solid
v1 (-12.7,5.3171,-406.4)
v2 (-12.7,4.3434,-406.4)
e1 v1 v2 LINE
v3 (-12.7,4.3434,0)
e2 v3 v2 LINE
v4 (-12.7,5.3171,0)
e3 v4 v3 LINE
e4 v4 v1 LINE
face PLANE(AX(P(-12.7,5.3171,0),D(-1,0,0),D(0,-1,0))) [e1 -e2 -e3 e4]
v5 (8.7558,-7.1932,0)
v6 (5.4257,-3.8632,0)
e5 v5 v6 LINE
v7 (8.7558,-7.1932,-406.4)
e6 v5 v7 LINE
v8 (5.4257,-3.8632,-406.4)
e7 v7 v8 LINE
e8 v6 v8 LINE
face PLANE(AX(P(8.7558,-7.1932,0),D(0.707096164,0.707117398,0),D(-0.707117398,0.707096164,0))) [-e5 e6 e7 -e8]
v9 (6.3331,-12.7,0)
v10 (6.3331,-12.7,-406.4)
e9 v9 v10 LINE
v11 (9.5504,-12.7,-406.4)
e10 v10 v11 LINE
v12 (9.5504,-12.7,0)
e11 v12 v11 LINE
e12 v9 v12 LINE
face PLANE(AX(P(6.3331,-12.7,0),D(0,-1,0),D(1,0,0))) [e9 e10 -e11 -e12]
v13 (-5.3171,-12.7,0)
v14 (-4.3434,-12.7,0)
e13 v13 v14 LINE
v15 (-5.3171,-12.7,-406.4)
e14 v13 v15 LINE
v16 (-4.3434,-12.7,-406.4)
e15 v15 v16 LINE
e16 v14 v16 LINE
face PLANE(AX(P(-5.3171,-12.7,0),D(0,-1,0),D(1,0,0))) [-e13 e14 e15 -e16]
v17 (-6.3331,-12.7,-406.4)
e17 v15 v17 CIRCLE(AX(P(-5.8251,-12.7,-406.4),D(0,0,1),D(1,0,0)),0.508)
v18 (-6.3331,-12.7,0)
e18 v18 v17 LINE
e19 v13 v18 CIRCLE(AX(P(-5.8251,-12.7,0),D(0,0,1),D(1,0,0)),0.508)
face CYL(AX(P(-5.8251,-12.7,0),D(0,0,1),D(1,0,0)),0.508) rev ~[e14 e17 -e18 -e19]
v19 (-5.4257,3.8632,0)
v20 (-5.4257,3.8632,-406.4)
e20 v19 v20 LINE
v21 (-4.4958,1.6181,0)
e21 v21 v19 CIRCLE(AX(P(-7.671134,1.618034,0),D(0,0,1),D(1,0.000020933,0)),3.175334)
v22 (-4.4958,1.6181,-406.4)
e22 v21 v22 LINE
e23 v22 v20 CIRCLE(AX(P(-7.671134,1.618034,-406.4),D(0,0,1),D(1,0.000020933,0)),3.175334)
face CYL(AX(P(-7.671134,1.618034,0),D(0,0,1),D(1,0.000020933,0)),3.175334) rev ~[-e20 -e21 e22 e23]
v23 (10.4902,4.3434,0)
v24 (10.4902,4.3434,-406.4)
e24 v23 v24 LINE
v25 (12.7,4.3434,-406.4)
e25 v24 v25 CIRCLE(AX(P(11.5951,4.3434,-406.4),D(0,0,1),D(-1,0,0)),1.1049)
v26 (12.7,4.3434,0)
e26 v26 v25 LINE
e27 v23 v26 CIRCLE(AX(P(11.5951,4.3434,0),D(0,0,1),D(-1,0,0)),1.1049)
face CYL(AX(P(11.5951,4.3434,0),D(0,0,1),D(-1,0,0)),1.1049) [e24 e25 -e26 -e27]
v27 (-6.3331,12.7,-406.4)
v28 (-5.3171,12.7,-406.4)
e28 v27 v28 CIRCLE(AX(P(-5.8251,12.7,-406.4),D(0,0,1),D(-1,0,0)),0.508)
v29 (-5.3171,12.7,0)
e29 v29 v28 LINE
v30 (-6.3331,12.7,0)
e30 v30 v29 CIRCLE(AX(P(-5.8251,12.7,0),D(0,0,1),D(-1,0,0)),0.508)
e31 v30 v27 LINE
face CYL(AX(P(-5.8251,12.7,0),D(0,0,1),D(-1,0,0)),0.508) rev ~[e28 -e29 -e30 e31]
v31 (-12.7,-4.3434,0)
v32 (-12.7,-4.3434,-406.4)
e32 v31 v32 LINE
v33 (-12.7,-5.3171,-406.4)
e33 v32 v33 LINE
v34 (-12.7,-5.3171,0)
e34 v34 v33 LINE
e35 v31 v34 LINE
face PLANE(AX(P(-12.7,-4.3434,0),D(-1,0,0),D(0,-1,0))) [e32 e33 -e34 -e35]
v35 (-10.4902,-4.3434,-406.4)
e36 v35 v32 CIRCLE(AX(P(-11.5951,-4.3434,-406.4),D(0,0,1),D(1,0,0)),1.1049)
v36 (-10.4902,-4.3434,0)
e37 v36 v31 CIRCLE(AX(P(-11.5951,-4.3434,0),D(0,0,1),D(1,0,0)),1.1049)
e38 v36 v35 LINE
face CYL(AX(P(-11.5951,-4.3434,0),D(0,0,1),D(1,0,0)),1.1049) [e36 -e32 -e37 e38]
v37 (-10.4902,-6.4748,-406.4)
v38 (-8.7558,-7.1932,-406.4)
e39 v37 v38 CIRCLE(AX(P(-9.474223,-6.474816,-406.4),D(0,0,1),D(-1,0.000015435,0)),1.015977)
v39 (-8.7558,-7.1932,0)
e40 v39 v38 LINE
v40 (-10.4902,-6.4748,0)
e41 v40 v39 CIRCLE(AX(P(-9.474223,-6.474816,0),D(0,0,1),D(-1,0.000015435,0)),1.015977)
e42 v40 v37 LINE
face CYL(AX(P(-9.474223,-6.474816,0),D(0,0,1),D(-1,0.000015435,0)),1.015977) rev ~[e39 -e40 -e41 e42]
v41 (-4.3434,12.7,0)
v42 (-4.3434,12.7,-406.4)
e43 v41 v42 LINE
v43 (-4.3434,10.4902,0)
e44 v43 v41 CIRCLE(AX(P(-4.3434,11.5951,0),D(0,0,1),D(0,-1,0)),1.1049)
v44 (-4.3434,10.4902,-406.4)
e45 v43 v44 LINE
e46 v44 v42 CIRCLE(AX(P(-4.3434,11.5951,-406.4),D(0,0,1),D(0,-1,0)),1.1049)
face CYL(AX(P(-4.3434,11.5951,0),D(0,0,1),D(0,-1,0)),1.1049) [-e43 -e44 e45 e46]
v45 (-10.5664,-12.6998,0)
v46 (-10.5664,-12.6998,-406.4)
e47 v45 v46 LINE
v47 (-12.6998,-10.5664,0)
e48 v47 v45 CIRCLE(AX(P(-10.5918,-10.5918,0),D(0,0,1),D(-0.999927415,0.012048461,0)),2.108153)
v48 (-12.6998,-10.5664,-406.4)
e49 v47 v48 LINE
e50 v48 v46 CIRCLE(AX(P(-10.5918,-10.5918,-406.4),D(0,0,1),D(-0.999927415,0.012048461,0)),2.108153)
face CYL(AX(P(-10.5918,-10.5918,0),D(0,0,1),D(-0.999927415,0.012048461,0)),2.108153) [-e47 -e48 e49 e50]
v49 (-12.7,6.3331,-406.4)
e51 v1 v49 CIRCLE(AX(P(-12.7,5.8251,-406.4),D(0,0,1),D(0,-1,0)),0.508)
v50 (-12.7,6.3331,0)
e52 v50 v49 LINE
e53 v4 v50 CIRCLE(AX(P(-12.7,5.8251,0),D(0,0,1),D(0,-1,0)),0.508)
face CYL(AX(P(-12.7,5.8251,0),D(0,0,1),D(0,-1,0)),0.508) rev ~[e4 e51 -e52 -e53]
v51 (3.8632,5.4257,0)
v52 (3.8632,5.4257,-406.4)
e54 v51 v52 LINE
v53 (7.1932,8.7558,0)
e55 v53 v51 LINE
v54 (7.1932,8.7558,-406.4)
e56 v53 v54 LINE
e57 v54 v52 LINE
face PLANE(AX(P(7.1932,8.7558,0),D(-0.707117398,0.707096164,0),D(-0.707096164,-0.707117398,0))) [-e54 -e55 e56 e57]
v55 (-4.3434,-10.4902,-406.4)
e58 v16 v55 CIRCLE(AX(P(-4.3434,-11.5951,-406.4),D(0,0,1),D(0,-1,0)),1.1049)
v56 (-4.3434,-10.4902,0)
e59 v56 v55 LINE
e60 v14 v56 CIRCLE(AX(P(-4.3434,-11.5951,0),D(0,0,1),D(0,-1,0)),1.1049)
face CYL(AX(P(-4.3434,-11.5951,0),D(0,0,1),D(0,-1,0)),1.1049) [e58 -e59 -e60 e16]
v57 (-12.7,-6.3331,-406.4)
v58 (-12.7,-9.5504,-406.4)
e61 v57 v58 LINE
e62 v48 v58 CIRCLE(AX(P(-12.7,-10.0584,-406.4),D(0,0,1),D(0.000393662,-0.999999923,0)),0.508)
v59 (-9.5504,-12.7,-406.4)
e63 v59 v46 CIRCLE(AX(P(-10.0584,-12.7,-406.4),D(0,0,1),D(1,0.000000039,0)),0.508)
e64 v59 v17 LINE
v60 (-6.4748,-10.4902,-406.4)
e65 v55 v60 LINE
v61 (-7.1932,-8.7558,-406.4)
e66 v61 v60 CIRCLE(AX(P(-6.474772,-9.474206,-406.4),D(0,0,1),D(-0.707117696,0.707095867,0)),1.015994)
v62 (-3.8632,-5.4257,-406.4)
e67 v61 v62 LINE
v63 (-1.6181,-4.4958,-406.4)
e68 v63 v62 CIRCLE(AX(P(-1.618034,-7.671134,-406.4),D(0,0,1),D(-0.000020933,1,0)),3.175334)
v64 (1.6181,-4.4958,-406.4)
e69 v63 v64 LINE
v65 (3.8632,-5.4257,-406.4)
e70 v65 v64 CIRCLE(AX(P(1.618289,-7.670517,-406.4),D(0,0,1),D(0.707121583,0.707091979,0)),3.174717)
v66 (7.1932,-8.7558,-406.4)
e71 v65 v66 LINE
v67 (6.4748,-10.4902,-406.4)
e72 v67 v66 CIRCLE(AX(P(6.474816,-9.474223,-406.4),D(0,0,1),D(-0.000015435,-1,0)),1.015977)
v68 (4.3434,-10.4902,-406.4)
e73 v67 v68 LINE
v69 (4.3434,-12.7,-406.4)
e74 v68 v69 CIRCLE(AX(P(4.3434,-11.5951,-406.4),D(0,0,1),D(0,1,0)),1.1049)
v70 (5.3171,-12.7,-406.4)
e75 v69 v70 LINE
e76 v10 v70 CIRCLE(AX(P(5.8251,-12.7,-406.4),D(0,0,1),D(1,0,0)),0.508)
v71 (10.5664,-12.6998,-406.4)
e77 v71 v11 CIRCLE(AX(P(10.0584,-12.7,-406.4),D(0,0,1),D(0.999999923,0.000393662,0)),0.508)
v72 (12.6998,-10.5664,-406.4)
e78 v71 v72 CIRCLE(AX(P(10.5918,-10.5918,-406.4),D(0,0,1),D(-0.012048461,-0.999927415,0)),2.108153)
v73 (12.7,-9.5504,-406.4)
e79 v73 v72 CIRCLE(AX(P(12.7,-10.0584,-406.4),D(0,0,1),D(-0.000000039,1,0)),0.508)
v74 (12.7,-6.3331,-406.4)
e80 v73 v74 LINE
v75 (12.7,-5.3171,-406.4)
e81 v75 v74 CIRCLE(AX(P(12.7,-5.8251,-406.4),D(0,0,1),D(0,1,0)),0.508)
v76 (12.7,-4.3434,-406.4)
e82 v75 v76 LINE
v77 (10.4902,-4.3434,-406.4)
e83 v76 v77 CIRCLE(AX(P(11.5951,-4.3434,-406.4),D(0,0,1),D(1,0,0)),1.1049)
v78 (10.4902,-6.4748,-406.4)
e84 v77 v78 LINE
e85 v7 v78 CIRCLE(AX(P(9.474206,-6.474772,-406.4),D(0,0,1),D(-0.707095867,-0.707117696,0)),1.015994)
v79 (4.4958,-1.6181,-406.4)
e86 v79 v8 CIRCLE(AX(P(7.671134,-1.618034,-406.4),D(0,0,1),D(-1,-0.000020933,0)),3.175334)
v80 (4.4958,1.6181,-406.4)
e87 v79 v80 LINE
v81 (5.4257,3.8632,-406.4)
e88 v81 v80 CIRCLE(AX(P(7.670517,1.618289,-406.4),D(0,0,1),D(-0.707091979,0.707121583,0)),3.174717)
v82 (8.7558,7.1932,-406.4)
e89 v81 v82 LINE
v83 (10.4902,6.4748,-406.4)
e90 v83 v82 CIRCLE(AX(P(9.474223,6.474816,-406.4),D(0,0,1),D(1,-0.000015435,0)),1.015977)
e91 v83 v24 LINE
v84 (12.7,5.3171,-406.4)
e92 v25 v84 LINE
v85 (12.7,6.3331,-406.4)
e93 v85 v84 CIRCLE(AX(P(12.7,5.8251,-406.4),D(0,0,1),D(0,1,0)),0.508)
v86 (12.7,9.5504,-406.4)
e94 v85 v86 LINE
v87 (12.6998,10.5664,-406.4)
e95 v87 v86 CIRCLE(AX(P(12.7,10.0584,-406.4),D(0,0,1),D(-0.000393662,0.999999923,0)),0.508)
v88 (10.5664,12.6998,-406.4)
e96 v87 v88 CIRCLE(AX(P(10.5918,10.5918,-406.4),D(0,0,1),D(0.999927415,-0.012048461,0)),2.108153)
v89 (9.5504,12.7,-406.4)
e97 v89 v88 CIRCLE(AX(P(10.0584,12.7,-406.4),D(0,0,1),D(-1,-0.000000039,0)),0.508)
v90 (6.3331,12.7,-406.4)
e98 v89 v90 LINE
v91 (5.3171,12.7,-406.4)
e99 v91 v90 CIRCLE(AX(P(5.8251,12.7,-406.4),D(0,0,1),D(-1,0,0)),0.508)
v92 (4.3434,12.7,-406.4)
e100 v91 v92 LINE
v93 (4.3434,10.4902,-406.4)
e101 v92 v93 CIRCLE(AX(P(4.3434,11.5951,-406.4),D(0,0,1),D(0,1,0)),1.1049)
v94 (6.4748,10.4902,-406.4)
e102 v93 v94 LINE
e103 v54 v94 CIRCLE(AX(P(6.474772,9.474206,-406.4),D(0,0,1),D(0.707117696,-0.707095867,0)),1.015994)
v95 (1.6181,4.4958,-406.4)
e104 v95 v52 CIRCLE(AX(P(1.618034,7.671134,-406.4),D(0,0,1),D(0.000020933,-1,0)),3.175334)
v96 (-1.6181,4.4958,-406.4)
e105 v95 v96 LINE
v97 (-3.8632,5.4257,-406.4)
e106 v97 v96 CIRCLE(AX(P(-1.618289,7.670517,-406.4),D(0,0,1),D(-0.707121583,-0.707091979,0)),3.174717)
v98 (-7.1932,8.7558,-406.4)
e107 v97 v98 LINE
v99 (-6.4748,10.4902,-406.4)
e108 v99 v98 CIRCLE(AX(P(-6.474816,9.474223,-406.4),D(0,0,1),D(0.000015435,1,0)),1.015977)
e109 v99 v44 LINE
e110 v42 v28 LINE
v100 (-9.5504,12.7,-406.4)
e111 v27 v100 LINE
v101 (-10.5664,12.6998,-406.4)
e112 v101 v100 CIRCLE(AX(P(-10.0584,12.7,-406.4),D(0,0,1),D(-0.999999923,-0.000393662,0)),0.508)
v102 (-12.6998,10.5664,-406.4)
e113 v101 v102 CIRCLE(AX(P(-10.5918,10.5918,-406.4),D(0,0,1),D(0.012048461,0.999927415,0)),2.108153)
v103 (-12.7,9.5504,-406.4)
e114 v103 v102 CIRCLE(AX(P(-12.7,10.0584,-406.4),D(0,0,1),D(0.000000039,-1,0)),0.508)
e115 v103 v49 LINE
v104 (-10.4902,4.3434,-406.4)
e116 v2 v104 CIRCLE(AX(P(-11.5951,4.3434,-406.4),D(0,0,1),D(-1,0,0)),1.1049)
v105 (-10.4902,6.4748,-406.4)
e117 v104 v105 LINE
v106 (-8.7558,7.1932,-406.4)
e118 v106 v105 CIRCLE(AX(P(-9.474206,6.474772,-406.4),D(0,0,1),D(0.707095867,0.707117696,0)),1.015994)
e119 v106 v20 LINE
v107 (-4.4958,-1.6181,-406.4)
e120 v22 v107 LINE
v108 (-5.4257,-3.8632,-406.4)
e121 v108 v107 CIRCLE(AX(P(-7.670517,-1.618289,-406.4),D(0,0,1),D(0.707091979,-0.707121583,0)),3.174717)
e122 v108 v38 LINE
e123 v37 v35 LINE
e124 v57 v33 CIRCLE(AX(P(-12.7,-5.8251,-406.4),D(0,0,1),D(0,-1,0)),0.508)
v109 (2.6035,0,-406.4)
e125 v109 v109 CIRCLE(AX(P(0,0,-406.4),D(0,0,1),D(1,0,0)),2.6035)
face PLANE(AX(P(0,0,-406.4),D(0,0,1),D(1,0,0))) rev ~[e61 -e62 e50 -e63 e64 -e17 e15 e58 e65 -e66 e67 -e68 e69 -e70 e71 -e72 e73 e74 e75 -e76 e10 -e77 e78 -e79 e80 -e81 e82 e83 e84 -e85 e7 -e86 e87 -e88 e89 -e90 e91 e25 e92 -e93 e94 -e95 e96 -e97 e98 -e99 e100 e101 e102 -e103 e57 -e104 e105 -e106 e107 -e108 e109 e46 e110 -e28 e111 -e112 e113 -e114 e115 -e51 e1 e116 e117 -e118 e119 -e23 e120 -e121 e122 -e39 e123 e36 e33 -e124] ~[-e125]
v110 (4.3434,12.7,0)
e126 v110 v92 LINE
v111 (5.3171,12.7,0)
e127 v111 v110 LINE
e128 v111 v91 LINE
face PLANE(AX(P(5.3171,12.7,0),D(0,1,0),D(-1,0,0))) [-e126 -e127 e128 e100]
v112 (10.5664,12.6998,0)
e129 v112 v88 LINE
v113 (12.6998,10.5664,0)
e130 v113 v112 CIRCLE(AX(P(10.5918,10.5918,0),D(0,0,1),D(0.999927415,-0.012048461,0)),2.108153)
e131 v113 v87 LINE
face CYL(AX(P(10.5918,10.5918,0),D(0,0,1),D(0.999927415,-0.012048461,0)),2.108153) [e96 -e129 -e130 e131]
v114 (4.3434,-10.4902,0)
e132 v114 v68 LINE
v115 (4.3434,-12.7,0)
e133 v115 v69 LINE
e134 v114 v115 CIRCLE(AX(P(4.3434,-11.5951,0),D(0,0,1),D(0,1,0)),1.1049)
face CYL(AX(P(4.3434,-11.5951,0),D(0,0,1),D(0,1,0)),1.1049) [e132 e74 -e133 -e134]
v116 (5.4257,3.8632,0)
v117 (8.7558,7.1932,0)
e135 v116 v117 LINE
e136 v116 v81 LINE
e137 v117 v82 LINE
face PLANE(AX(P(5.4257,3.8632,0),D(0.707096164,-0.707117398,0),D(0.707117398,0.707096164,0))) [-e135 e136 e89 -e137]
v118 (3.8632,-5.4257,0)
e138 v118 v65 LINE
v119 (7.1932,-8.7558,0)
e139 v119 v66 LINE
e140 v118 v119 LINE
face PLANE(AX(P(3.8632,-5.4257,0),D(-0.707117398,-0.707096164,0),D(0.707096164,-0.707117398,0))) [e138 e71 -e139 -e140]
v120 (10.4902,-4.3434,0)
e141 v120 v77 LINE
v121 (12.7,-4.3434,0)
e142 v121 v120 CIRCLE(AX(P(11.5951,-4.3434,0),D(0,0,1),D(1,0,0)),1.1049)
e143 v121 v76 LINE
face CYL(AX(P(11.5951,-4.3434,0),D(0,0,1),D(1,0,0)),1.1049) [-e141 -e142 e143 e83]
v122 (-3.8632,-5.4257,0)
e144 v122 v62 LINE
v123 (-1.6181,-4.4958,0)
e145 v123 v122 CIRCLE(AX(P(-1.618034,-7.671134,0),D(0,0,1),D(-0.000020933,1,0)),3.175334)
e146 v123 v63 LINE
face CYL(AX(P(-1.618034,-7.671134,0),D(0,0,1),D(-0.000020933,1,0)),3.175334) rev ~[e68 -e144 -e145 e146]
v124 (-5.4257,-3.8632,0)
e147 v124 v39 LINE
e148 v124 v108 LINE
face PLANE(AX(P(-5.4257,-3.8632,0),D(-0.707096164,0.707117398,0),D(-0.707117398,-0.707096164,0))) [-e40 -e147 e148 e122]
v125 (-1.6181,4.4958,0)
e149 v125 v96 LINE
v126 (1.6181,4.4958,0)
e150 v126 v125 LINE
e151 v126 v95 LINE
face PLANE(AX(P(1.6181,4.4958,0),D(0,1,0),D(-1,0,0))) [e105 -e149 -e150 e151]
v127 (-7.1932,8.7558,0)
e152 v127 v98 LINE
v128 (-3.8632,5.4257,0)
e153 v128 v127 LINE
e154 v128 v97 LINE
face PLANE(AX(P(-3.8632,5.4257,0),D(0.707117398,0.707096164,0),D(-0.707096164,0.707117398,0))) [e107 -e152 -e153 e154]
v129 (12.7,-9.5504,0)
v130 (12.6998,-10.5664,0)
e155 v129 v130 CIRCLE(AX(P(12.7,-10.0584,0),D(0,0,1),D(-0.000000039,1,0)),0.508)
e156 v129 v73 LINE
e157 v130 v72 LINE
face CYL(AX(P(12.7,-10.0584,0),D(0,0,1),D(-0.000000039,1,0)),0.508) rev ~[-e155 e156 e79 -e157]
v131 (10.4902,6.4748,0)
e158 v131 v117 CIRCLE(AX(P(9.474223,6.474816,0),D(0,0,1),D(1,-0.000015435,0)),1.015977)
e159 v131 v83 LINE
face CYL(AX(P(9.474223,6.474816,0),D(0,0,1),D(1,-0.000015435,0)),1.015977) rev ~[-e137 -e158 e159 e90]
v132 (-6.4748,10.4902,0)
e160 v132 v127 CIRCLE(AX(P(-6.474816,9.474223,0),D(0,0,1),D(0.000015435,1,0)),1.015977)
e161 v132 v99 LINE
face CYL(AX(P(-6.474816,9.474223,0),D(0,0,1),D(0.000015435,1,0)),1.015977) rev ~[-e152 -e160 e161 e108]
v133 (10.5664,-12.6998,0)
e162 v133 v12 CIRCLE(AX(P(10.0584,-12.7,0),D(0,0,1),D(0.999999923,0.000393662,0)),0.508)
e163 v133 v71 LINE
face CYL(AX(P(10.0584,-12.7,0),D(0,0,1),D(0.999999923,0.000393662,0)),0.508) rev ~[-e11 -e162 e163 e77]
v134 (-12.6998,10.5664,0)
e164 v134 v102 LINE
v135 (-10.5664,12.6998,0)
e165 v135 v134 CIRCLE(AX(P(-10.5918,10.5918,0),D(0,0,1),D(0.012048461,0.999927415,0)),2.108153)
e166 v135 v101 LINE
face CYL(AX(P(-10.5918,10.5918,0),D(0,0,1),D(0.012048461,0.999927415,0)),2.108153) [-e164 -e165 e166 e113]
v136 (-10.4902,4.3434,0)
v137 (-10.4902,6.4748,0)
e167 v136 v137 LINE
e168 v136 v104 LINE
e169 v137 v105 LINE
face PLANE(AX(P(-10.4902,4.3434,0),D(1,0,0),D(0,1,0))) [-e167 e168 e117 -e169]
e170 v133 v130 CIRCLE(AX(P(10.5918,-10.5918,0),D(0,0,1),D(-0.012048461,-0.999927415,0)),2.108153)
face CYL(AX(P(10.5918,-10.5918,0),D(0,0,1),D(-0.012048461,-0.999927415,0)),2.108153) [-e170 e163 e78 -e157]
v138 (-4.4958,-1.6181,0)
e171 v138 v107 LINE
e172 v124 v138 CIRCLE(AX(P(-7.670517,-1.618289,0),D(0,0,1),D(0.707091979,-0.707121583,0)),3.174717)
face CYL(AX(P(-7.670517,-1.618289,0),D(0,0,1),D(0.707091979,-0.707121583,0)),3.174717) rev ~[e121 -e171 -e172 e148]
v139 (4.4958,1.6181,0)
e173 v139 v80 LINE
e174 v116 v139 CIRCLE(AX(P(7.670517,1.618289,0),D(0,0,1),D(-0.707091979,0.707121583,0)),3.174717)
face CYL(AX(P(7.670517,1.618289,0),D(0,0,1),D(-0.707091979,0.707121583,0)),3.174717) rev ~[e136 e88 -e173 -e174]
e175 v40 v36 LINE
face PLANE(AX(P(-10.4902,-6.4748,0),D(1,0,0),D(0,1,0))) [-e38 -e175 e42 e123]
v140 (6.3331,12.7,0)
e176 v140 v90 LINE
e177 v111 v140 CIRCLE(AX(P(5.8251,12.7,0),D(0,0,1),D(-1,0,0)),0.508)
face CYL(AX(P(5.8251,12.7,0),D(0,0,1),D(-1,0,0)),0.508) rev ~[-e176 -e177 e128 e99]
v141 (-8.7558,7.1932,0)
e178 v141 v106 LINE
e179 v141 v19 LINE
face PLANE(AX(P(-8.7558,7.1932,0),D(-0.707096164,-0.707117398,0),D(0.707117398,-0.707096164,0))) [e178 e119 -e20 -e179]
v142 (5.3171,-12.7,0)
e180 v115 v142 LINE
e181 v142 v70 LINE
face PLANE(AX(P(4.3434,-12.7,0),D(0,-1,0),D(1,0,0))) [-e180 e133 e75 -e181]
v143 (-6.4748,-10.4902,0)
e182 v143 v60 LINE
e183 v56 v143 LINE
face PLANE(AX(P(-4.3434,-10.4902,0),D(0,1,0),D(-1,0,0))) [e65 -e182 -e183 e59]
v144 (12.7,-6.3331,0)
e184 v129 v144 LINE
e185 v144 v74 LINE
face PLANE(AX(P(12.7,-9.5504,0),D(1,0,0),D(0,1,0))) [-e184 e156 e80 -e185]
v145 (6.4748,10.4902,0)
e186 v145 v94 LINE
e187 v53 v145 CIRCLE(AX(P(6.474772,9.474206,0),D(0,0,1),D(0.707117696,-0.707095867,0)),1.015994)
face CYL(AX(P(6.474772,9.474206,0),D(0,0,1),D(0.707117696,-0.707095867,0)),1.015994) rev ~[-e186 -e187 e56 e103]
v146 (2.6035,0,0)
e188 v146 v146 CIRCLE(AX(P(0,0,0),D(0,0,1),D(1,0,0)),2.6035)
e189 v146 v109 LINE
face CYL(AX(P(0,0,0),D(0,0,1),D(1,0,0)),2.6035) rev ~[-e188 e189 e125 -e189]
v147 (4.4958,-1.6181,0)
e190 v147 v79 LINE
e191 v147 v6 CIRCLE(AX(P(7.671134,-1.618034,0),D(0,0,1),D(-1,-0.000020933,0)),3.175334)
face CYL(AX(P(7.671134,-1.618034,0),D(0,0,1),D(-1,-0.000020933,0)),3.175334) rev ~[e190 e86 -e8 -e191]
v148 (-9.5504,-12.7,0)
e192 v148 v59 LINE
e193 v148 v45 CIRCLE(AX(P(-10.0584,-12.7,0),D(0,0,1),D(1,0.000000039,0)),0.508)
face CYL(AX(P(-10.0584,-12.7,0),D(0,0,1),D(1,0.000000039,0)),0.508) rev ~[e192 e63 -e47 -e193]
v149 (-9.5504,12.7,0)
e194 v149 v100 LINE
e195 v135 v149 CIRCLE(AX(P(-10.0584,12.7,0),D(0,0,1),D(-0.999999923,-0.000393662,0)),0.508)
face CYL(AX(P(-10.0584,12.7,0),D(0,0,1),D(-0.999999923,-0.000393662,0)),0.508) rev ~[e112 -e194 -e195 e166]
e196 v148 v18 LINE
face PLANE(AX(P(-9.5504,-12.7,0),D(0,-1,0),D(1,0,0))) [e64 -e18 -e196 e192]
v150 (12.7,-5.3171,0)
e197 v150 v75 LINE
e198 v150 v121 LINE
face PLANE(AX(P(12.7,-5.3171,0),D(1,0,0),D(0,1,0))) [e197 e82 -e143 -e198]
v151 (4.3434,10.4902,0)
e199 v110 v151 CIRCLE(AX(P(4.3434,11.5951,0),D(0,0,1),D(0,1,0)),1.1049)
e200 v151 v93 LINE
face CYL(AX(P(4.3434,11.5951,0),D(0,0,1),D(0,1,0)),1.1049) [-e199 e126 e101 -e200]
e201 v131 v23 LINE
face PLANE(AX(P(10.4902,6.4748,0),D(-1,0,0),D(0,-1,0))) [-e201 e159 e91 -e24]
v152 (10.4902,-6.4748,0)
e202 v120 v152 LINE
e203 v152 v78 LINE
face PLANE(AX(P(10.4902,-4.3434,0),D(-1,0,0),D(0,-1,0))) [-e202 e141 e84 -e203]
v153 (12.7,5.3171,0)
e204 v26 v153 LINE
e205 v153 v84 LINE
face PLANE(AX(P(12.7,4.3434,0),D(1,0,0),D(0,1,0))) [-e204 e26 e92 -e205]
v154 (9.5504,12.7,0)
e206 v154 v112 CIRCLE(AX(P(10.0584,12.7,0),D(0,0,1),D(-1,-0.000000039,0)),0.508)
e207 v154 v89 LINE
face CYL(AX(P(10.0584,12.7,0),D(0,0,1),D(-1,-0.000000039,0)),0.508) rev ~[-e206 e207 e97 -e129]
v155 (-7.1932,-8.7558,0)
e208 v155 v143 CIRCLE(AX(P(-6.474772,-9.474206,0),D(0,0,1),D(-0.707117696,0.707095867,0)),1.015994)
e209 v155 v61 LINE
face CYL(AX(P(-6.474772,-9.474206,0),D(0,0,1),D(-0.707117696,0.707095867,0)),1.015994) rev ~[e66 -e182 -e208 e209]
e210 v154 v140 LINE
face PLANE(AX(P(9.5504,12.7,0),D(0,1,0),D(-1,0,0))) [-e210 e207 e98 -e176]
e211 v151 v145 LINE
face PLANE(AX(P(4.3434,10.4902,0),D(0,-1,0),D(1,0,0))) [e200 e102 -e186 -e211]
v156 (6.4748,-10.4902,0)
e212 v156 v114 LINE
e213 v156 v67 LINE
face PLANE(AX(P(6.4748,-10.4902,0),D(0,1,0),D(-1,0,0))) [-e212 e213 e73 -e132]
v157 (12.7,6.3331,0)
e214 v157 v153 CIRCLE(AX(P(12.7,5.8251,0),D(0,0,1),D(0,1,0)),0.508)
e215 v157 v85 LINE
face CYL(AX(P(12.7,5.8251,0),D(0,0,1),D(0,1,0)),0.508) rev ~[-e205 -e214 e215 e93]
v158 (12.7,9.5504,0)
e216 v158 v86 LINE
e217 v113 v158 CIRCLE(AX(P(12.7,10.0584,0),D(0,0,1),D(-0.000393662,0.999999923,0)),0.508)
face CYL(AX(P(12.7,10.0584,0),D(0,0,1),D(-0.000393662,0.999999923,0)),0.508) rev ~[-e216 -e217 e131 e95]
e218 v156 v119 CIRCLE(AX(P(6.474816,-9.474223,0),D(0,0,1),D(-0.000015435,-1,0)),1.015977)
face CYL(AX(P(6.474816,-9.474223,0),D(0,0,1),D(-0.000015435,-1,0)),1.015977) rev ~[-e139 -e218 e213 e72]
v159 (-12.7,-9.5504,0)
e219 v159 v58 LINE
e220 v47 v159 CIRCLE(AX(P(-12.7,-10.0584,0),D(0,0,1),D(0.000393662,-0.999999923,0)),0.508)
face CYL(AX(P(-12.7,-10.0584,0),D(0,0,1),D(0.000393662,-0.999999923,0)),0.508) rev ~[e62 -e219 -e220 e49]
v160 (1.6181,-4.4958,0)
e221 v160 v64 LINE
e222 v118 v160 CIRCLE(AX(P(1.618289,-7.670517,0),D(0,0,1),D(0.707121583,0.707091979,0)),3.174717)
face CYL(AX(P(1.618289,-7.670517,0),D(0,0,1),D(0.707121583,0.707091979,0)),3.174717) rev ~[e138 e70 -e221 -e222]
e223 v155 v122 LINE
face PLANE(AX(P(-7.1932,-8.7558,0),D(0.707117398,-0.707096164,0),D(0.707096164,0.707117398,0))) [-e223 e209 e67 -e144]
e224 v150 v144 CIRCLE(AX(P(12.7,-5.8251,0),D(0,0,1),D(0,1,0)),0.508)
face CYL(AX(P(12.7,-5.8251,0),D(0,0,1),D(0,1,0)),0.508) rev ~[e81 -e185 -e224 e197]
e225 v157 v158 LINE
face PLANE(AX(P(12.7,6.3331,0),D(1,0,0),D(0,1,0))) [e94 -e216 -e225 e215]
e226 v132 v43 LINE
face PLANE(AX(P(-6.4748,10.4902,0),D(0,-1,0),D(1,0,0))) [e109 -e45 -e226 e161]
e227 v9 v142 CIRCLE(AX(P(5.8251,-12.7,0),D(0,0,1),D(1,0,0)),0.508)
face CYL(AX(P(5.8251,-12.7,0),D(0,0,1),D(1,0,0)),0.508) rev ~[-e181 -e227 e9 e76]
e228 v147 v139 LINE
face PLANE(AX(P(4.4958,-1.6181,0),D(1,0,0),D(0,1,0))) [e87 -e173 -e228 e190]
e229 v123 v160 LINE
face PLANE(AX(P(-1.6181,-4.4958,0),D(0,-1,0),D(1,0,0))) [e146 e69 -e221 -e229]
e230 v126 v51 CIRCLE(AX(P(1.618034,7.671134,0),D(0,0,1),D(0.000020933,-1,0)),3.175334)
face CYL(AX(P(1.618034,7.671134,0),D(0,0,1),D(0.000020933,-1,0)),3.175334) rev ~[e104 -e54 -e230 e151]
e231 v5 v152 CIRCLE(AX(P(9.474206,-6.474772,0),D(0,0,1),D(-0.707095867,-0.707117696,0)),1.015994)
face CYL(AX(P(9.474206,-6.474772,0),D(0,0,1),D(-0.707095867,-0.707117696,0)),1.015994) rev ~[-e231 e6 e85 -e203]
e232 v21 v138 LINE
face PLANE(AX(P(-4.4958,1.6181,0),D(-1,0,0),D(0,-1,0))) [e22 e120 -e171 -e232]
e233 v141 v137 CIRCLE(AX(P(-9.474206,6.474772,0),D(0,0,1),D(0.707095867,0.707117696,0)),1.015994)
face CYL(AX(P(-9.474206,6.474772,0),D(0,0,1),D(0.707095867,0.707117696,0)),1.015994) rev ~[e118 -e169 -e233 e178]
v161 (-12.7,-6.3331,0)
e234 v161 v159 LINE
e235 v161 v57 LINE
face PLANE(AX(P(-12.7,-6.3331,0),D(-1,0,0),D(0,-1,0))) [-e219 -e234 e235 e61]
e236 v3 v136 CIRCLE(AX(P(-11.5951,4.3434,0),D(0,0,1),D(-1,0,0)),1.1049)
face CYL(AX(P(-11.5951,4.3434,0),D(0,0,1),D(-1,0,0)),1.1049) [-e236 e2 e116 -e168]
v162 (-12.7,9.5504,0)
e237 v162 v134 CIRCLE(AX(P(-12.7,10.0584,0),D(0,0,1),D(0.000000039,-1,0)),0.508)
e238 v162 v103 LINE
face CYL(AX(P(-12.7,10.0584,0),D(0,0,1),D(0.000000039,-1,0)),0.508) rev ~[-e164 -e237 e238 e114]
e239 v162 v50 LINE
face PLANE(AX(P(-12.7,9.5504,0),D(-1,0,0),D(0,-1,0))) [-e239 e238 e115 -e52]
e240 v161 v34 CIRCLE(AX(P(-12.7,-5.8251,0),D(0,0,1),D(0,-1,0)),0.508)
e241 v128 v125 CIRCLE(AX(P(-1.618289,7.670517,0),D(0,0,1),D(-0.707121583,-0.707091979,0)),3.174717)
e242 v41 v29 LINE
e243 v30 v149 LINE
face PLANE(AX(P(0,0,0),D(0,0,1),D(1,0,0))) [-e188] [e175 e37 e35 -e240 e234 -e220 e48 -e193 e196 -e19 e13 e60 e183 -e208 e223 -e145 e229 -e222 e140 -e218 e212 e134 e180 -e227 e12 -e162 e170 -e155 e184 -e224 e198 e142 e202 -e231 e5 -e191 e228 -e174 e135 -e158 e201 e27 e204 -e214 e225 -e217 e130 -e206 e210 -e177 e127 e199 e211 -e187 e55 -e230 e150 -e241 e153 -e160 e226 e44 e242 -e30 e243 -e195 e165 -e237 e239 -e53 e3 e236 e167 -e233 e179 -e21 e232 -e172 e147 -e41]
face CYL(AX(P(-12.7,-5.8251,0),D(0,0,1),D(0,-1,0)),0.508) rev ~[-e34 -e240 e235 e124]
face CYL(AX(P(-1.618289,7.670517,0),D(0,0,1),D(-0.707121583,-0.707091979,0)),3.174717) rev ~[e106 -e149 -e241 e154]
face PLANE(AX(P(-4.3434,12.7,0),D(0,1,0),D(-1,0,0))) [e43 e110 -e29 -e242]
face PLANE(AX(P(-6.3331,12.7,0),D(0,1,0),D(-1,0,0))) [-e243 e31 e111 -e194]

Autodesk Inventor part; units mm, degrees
sketch "Sketch_1" plane through (0, 0, 0) normal (0, 0, 1) x (1, 0, 0)
  arc A0 (-12.6998, -10.5664) -> (-10.5664, -12.6998) centre (-10.5918, -10.5918) ccw
  arc A1 (-9.5504, -12.7) -> (-10.5664, -12.6998) centre (-10.0584, -12.7) ccw
  line L0 (-9.5504, -12.7) -> (-6.3331, -12.7)
  arc A2 (-5.3171, -12.7) -> (-6.3331, -12.7) centre (-5.8251, -12.7) ccw
  line L1 (-5.3171, -12.7) -> (-4.3434, -12.7)
  arc A3 (-4.3434, -12.7) -> (-4.3434, -10.4902) centre (-4.3434, -11.5951) ccw
  line L2 (-4.3434, -10.4902) -> (-6.4748, -10.4902)
  arc A4 (-7.1932, -8.7558) -> (-6.4748, -10.4902) centre (-6.4748, -9.4742) ccw
  line L3 (-7.1932, -8.7558) -> (-3.8632, -5.4257)
  arc A5 (-1.6181, -4.4958) -> (-3.8632, -5.4257) centre (-1.6181, -7.6708) ccw
  line L4 (-1.6181, -4.4958) -> (1.6181, -4.4958)
  arc A6 (3.8632, -5.4257) -> (1.6181, -4.4958) centre (1.6181, -7.6708) ccw
  line L5 (3.8632, -5.4257) -> (7.1932, -8.7558)
  arc A7 (6.4748, -10.4902) -> (7.1932, -8.7558) centre (6.4748, -9.4742) ccw
  line L6 (6.4748, -10.4902) -> (4.3434, -10.4902)
  arc A8 (4.3434, -10.4902) -> (4.3434, -12.7) centre (4.3434, -11.5951) ccw
  line L7 (4.3434, -12.7) -> (5.3171, -12.7)
  arc A9 (6.3331, -12.7) -> (5.3171, -12.7) centre (5.8251, -12.7) ccw
  line L8 (6.3331, -12.7) -> (9.5504, -12.7)
  arc A10 (10.5664, -12.6998) -> (9.5504, -12.7) centre (10.0584, -12.7) ccw
  arc A11 (10.5664, -12.6998) -> (12.6998, -10.5664) centre (10.5918, -10.5918) ccw
  arc A12 (12.7, -9.5504) -> (12.6998, -10.5664) centre (12.7, -10.0584) ccw
  line L9 (12.7, -9.5504) -> (12.7, -6.3331)
  arc A13 (12.7, -5.3171) -> (12.7, -6.3331) centre (12.7, -5.8251) ccw
  line L10 (12.7, -5.3171) -> (12.7, -4.3434)
  arc A14 (12.7, -4.3434) -> (10.4902, -4.3434) centre (11.5951, -4.3434) ccw
  line L11 (10.4902, -4.3434) -> (10.4902, -6.4748)
  arc A15 (8.7558, -7.1932) -> (10.4902, -6.4748) centre (9.4742, -6.4748) ccw
  line L12 (8.7558, -7.1932) -> (5.4257, -3.8632)
  arc A16 (4.4958, -1.6181) -> (5.4257, -3.8632) centre (7.6708, -1.6181) ccw
  line L13 (4.4958, -1.6181) -> (4.4958, 1.6181)
  arc A17 (5.4257, 3.8632) -> (4.4958, 1.6181) centre (7.6708, 1.6181) ccw
  line L14 (5.4257, 3.8632) -> (8.7558, 7.1932)
  arc A18 (10.4902, 6.4748) -> (8.7558, 7.1932) centre (9.4742, 6.4748) ccw
  line L15 (10.4902, 6.4748) -> (10.4902, 4.3434)
  arc A19 (10.4902, 4.3434) -> (12.7, 4.3434) centre (11.5951, 4.3434) ccw
  line L16 (12.7, 4.3434) -> (12.7, 5.3171)
  arc A20 (12.7, 6.3331) -> (12.7, 5.3171) centre (12.7, 5.8251) ccw
  line L17 (12.7, 6.3331) -> (12.7, 9.5504)
  arc A21 (12.6998, 10.5664) -> (12.7, 9.5504) centre (12.7, 10.0584) ccw
  arc A22 (12.6998, 10.5664) -> (10.5664, 12.6998) centre (10.5918, 10.5918) ccw
  arc A23 (9.5504, 12.7) -> (10.5664, 12.6998) centre (10.0584, 12.7) ccw
  line L18 (9.5504, 12.7) -> (6.3331, 12.7)
  arc A24 (5.3171, 12.7) -> (6.3331, 12.7) centre (5.8251, 12.7) ccw
  line L19 (5.3171, 12.7) -> (4.3434, 12.7)
  arc A25 (4.3434, 12.7) -> (4.3434, 10.4902) centre (4.3434, 11.5951) ccw
  line L20 (4.3434, 10.4902) -> (6.4748, 10.4902)
  arc A26 (7.1932, 8.7558) -> (6.4748, 10.4902) centre (6.4748, 9.4742) ccw
  line L21 (7.1932, 8.7558) -> (3.8632, 5.4257)
  arc A27 (1.6181, 4.4958) -> (3.8632, 5.4257) centre (1.6181, 7.6708) ccw
  line L22 (1.6181, 4.4958) -> (-1.6181, 4.4958)
  arc A28 (-3.8632, 5.4257) -> (-1.6181, 4.4958) centre (-1.6181, 7.6708) ccw
  line L23 (-3.8632, 5.4257) -> (-7.1932, 8.7558)
  arc A29 (-6.4748, 10.4902) -> (-7.1932, 8.7558) centre (-6.4748, 9.4742) ccw
  line L24 (-6.4748, 10.4902) -> (-4.3434, 10.4902)
  arc A30 (-4.3434, 10.4902) -> (-4.3434, 12.7) centre (-4.3434, 11.5951) ccw
  line L25 (-4.3434, 12.7) -> (-5.3171, 12.7)
  arc A31 (-6.3331, 12.7) -> (-5.3171, 12.7) centre (-5.8251, 12.7) ccw
  line L26 (-6.3331, 12.7) -> (-9.5504, 12.7)
  arc A32 (-10.5664, 12.6998) -> (-9.5504, 12.7) centre (-10.0584, 12.7) ccw
  arc A33 (-10.5664, 12.6998) -> (-12.6998, 10.5664) centre (-10.5918, 10.5918) ccw
  arc A34 (-12.7, 9.5504) -> (-12.6998, 10.5664) centre (-12.7, 10.0584) ccw
  line L27 (-12.7, 9.5504) -> (-12.7, 6.3331)
  arc A35 (-12.7, 5.3171) -> (-12.7, 6.3331) centre (-12.7, 5.8251) ccw
  line L28 (-12.7, 5.3171) -> (-12.7, 4.3434)
  arc A36 (-12.7, 4.3434) -> (-10.4902, 4.3434) centre (-11.5951, 4.3434) ccw
  line L29 (-10.4902, 4.3434) -> (-10.4902, 6.4748)
  arc A37 (-8.7558, 7.1932) -> (-10.4902, 6.4748) centre (-9.4742, 6.4748) ccw
  line L30 (-8.7558, 7.1932) -> (-5.4257, 3.8632)
  arc A38 (-4.4958, 1.6181) -> (-5.4257, 3.8632) centre (-7.6708, 1.6181) ccw
  line L31 (-4.4958, 1.6181) -> (-4.4958, -1.6181)
  arc A39 (-5.4257, -3.8632) -> (-4.4958, -1.6181) centre (-7.6708, -1.6181) ccw
  line L32 (-5.4257, -3.8632) -> (-8.7558, -7.1932)
  arc A40 (-10.4902, -6.4748) -> (-8.7558, -7.1932) centre (-9.4742, -6.4748) ccw
  line L33 (-10.4902, -6.4748) -> (-10.4902, -4.3434)
  arc A41 (-10.4902, -4.3434) -> (-12.7, -4.3434) centre (-11.5951, -4.3434) ccw
  line L34 (-12.7, -4.3434) -> (-12.7, -5.3171)
  arc A42 (-12.7, -6.3331) -> (-12.7, -5.3171) centre (-12.7, -5.8251) ccw
  line L35 (-12.7, -6.3331) -> (-12.7, -9.5504)
  arc A43 (-12.6998, -10.5664) -> (-12.7, -9.5504) centre (-12.7, -10.0584) ccw
  circle A44 centre (0, 0) radius 2.6035
extrude "Extrusion1" add sketch "Sketch_1" against normal blind 406.4
ref_plane "b1_XY" through (-12.7, 0, -203.2) normal (1, 0, 0) x (0, 0, -1)
ref_plane "b1_YZ" through (-12.7, 0, -203.2) normal (0, 0, -1) x (0, 1, 0)
ref_plane "b1_ZX" through (-12.7, 0, -203.2) normal (0, 1, 0) x (1, 0, 0)
ref_plane "b2_XY" through (12.7, 0, -203.2) normal (1, 0, 0) x (0, 0, -1)
ref_plane "b2_YZ" through (12.7, 0, -203.2) normal (0, 0, -1) x (0, 1, 0)
ref_plane "b2_ZX" through (12.7, 0, -203.2) normal (0, 1, 0) x (1, 0, 0)
ref_plane "profile1010_XY" through (0, 0, -203.2) normal (0, 0, 1) x (1, 0, 0)
ref_plane "profile1010_YZ" through (0, 0, -203.2) normal (1, 0, 0) x (0, 1, 0)
ref_plane "profile1010_ZX" through (0, 0, -203.2) normal (0, 1, 0) x (0, 0, 1)
properties part number "1010-16-CL"
